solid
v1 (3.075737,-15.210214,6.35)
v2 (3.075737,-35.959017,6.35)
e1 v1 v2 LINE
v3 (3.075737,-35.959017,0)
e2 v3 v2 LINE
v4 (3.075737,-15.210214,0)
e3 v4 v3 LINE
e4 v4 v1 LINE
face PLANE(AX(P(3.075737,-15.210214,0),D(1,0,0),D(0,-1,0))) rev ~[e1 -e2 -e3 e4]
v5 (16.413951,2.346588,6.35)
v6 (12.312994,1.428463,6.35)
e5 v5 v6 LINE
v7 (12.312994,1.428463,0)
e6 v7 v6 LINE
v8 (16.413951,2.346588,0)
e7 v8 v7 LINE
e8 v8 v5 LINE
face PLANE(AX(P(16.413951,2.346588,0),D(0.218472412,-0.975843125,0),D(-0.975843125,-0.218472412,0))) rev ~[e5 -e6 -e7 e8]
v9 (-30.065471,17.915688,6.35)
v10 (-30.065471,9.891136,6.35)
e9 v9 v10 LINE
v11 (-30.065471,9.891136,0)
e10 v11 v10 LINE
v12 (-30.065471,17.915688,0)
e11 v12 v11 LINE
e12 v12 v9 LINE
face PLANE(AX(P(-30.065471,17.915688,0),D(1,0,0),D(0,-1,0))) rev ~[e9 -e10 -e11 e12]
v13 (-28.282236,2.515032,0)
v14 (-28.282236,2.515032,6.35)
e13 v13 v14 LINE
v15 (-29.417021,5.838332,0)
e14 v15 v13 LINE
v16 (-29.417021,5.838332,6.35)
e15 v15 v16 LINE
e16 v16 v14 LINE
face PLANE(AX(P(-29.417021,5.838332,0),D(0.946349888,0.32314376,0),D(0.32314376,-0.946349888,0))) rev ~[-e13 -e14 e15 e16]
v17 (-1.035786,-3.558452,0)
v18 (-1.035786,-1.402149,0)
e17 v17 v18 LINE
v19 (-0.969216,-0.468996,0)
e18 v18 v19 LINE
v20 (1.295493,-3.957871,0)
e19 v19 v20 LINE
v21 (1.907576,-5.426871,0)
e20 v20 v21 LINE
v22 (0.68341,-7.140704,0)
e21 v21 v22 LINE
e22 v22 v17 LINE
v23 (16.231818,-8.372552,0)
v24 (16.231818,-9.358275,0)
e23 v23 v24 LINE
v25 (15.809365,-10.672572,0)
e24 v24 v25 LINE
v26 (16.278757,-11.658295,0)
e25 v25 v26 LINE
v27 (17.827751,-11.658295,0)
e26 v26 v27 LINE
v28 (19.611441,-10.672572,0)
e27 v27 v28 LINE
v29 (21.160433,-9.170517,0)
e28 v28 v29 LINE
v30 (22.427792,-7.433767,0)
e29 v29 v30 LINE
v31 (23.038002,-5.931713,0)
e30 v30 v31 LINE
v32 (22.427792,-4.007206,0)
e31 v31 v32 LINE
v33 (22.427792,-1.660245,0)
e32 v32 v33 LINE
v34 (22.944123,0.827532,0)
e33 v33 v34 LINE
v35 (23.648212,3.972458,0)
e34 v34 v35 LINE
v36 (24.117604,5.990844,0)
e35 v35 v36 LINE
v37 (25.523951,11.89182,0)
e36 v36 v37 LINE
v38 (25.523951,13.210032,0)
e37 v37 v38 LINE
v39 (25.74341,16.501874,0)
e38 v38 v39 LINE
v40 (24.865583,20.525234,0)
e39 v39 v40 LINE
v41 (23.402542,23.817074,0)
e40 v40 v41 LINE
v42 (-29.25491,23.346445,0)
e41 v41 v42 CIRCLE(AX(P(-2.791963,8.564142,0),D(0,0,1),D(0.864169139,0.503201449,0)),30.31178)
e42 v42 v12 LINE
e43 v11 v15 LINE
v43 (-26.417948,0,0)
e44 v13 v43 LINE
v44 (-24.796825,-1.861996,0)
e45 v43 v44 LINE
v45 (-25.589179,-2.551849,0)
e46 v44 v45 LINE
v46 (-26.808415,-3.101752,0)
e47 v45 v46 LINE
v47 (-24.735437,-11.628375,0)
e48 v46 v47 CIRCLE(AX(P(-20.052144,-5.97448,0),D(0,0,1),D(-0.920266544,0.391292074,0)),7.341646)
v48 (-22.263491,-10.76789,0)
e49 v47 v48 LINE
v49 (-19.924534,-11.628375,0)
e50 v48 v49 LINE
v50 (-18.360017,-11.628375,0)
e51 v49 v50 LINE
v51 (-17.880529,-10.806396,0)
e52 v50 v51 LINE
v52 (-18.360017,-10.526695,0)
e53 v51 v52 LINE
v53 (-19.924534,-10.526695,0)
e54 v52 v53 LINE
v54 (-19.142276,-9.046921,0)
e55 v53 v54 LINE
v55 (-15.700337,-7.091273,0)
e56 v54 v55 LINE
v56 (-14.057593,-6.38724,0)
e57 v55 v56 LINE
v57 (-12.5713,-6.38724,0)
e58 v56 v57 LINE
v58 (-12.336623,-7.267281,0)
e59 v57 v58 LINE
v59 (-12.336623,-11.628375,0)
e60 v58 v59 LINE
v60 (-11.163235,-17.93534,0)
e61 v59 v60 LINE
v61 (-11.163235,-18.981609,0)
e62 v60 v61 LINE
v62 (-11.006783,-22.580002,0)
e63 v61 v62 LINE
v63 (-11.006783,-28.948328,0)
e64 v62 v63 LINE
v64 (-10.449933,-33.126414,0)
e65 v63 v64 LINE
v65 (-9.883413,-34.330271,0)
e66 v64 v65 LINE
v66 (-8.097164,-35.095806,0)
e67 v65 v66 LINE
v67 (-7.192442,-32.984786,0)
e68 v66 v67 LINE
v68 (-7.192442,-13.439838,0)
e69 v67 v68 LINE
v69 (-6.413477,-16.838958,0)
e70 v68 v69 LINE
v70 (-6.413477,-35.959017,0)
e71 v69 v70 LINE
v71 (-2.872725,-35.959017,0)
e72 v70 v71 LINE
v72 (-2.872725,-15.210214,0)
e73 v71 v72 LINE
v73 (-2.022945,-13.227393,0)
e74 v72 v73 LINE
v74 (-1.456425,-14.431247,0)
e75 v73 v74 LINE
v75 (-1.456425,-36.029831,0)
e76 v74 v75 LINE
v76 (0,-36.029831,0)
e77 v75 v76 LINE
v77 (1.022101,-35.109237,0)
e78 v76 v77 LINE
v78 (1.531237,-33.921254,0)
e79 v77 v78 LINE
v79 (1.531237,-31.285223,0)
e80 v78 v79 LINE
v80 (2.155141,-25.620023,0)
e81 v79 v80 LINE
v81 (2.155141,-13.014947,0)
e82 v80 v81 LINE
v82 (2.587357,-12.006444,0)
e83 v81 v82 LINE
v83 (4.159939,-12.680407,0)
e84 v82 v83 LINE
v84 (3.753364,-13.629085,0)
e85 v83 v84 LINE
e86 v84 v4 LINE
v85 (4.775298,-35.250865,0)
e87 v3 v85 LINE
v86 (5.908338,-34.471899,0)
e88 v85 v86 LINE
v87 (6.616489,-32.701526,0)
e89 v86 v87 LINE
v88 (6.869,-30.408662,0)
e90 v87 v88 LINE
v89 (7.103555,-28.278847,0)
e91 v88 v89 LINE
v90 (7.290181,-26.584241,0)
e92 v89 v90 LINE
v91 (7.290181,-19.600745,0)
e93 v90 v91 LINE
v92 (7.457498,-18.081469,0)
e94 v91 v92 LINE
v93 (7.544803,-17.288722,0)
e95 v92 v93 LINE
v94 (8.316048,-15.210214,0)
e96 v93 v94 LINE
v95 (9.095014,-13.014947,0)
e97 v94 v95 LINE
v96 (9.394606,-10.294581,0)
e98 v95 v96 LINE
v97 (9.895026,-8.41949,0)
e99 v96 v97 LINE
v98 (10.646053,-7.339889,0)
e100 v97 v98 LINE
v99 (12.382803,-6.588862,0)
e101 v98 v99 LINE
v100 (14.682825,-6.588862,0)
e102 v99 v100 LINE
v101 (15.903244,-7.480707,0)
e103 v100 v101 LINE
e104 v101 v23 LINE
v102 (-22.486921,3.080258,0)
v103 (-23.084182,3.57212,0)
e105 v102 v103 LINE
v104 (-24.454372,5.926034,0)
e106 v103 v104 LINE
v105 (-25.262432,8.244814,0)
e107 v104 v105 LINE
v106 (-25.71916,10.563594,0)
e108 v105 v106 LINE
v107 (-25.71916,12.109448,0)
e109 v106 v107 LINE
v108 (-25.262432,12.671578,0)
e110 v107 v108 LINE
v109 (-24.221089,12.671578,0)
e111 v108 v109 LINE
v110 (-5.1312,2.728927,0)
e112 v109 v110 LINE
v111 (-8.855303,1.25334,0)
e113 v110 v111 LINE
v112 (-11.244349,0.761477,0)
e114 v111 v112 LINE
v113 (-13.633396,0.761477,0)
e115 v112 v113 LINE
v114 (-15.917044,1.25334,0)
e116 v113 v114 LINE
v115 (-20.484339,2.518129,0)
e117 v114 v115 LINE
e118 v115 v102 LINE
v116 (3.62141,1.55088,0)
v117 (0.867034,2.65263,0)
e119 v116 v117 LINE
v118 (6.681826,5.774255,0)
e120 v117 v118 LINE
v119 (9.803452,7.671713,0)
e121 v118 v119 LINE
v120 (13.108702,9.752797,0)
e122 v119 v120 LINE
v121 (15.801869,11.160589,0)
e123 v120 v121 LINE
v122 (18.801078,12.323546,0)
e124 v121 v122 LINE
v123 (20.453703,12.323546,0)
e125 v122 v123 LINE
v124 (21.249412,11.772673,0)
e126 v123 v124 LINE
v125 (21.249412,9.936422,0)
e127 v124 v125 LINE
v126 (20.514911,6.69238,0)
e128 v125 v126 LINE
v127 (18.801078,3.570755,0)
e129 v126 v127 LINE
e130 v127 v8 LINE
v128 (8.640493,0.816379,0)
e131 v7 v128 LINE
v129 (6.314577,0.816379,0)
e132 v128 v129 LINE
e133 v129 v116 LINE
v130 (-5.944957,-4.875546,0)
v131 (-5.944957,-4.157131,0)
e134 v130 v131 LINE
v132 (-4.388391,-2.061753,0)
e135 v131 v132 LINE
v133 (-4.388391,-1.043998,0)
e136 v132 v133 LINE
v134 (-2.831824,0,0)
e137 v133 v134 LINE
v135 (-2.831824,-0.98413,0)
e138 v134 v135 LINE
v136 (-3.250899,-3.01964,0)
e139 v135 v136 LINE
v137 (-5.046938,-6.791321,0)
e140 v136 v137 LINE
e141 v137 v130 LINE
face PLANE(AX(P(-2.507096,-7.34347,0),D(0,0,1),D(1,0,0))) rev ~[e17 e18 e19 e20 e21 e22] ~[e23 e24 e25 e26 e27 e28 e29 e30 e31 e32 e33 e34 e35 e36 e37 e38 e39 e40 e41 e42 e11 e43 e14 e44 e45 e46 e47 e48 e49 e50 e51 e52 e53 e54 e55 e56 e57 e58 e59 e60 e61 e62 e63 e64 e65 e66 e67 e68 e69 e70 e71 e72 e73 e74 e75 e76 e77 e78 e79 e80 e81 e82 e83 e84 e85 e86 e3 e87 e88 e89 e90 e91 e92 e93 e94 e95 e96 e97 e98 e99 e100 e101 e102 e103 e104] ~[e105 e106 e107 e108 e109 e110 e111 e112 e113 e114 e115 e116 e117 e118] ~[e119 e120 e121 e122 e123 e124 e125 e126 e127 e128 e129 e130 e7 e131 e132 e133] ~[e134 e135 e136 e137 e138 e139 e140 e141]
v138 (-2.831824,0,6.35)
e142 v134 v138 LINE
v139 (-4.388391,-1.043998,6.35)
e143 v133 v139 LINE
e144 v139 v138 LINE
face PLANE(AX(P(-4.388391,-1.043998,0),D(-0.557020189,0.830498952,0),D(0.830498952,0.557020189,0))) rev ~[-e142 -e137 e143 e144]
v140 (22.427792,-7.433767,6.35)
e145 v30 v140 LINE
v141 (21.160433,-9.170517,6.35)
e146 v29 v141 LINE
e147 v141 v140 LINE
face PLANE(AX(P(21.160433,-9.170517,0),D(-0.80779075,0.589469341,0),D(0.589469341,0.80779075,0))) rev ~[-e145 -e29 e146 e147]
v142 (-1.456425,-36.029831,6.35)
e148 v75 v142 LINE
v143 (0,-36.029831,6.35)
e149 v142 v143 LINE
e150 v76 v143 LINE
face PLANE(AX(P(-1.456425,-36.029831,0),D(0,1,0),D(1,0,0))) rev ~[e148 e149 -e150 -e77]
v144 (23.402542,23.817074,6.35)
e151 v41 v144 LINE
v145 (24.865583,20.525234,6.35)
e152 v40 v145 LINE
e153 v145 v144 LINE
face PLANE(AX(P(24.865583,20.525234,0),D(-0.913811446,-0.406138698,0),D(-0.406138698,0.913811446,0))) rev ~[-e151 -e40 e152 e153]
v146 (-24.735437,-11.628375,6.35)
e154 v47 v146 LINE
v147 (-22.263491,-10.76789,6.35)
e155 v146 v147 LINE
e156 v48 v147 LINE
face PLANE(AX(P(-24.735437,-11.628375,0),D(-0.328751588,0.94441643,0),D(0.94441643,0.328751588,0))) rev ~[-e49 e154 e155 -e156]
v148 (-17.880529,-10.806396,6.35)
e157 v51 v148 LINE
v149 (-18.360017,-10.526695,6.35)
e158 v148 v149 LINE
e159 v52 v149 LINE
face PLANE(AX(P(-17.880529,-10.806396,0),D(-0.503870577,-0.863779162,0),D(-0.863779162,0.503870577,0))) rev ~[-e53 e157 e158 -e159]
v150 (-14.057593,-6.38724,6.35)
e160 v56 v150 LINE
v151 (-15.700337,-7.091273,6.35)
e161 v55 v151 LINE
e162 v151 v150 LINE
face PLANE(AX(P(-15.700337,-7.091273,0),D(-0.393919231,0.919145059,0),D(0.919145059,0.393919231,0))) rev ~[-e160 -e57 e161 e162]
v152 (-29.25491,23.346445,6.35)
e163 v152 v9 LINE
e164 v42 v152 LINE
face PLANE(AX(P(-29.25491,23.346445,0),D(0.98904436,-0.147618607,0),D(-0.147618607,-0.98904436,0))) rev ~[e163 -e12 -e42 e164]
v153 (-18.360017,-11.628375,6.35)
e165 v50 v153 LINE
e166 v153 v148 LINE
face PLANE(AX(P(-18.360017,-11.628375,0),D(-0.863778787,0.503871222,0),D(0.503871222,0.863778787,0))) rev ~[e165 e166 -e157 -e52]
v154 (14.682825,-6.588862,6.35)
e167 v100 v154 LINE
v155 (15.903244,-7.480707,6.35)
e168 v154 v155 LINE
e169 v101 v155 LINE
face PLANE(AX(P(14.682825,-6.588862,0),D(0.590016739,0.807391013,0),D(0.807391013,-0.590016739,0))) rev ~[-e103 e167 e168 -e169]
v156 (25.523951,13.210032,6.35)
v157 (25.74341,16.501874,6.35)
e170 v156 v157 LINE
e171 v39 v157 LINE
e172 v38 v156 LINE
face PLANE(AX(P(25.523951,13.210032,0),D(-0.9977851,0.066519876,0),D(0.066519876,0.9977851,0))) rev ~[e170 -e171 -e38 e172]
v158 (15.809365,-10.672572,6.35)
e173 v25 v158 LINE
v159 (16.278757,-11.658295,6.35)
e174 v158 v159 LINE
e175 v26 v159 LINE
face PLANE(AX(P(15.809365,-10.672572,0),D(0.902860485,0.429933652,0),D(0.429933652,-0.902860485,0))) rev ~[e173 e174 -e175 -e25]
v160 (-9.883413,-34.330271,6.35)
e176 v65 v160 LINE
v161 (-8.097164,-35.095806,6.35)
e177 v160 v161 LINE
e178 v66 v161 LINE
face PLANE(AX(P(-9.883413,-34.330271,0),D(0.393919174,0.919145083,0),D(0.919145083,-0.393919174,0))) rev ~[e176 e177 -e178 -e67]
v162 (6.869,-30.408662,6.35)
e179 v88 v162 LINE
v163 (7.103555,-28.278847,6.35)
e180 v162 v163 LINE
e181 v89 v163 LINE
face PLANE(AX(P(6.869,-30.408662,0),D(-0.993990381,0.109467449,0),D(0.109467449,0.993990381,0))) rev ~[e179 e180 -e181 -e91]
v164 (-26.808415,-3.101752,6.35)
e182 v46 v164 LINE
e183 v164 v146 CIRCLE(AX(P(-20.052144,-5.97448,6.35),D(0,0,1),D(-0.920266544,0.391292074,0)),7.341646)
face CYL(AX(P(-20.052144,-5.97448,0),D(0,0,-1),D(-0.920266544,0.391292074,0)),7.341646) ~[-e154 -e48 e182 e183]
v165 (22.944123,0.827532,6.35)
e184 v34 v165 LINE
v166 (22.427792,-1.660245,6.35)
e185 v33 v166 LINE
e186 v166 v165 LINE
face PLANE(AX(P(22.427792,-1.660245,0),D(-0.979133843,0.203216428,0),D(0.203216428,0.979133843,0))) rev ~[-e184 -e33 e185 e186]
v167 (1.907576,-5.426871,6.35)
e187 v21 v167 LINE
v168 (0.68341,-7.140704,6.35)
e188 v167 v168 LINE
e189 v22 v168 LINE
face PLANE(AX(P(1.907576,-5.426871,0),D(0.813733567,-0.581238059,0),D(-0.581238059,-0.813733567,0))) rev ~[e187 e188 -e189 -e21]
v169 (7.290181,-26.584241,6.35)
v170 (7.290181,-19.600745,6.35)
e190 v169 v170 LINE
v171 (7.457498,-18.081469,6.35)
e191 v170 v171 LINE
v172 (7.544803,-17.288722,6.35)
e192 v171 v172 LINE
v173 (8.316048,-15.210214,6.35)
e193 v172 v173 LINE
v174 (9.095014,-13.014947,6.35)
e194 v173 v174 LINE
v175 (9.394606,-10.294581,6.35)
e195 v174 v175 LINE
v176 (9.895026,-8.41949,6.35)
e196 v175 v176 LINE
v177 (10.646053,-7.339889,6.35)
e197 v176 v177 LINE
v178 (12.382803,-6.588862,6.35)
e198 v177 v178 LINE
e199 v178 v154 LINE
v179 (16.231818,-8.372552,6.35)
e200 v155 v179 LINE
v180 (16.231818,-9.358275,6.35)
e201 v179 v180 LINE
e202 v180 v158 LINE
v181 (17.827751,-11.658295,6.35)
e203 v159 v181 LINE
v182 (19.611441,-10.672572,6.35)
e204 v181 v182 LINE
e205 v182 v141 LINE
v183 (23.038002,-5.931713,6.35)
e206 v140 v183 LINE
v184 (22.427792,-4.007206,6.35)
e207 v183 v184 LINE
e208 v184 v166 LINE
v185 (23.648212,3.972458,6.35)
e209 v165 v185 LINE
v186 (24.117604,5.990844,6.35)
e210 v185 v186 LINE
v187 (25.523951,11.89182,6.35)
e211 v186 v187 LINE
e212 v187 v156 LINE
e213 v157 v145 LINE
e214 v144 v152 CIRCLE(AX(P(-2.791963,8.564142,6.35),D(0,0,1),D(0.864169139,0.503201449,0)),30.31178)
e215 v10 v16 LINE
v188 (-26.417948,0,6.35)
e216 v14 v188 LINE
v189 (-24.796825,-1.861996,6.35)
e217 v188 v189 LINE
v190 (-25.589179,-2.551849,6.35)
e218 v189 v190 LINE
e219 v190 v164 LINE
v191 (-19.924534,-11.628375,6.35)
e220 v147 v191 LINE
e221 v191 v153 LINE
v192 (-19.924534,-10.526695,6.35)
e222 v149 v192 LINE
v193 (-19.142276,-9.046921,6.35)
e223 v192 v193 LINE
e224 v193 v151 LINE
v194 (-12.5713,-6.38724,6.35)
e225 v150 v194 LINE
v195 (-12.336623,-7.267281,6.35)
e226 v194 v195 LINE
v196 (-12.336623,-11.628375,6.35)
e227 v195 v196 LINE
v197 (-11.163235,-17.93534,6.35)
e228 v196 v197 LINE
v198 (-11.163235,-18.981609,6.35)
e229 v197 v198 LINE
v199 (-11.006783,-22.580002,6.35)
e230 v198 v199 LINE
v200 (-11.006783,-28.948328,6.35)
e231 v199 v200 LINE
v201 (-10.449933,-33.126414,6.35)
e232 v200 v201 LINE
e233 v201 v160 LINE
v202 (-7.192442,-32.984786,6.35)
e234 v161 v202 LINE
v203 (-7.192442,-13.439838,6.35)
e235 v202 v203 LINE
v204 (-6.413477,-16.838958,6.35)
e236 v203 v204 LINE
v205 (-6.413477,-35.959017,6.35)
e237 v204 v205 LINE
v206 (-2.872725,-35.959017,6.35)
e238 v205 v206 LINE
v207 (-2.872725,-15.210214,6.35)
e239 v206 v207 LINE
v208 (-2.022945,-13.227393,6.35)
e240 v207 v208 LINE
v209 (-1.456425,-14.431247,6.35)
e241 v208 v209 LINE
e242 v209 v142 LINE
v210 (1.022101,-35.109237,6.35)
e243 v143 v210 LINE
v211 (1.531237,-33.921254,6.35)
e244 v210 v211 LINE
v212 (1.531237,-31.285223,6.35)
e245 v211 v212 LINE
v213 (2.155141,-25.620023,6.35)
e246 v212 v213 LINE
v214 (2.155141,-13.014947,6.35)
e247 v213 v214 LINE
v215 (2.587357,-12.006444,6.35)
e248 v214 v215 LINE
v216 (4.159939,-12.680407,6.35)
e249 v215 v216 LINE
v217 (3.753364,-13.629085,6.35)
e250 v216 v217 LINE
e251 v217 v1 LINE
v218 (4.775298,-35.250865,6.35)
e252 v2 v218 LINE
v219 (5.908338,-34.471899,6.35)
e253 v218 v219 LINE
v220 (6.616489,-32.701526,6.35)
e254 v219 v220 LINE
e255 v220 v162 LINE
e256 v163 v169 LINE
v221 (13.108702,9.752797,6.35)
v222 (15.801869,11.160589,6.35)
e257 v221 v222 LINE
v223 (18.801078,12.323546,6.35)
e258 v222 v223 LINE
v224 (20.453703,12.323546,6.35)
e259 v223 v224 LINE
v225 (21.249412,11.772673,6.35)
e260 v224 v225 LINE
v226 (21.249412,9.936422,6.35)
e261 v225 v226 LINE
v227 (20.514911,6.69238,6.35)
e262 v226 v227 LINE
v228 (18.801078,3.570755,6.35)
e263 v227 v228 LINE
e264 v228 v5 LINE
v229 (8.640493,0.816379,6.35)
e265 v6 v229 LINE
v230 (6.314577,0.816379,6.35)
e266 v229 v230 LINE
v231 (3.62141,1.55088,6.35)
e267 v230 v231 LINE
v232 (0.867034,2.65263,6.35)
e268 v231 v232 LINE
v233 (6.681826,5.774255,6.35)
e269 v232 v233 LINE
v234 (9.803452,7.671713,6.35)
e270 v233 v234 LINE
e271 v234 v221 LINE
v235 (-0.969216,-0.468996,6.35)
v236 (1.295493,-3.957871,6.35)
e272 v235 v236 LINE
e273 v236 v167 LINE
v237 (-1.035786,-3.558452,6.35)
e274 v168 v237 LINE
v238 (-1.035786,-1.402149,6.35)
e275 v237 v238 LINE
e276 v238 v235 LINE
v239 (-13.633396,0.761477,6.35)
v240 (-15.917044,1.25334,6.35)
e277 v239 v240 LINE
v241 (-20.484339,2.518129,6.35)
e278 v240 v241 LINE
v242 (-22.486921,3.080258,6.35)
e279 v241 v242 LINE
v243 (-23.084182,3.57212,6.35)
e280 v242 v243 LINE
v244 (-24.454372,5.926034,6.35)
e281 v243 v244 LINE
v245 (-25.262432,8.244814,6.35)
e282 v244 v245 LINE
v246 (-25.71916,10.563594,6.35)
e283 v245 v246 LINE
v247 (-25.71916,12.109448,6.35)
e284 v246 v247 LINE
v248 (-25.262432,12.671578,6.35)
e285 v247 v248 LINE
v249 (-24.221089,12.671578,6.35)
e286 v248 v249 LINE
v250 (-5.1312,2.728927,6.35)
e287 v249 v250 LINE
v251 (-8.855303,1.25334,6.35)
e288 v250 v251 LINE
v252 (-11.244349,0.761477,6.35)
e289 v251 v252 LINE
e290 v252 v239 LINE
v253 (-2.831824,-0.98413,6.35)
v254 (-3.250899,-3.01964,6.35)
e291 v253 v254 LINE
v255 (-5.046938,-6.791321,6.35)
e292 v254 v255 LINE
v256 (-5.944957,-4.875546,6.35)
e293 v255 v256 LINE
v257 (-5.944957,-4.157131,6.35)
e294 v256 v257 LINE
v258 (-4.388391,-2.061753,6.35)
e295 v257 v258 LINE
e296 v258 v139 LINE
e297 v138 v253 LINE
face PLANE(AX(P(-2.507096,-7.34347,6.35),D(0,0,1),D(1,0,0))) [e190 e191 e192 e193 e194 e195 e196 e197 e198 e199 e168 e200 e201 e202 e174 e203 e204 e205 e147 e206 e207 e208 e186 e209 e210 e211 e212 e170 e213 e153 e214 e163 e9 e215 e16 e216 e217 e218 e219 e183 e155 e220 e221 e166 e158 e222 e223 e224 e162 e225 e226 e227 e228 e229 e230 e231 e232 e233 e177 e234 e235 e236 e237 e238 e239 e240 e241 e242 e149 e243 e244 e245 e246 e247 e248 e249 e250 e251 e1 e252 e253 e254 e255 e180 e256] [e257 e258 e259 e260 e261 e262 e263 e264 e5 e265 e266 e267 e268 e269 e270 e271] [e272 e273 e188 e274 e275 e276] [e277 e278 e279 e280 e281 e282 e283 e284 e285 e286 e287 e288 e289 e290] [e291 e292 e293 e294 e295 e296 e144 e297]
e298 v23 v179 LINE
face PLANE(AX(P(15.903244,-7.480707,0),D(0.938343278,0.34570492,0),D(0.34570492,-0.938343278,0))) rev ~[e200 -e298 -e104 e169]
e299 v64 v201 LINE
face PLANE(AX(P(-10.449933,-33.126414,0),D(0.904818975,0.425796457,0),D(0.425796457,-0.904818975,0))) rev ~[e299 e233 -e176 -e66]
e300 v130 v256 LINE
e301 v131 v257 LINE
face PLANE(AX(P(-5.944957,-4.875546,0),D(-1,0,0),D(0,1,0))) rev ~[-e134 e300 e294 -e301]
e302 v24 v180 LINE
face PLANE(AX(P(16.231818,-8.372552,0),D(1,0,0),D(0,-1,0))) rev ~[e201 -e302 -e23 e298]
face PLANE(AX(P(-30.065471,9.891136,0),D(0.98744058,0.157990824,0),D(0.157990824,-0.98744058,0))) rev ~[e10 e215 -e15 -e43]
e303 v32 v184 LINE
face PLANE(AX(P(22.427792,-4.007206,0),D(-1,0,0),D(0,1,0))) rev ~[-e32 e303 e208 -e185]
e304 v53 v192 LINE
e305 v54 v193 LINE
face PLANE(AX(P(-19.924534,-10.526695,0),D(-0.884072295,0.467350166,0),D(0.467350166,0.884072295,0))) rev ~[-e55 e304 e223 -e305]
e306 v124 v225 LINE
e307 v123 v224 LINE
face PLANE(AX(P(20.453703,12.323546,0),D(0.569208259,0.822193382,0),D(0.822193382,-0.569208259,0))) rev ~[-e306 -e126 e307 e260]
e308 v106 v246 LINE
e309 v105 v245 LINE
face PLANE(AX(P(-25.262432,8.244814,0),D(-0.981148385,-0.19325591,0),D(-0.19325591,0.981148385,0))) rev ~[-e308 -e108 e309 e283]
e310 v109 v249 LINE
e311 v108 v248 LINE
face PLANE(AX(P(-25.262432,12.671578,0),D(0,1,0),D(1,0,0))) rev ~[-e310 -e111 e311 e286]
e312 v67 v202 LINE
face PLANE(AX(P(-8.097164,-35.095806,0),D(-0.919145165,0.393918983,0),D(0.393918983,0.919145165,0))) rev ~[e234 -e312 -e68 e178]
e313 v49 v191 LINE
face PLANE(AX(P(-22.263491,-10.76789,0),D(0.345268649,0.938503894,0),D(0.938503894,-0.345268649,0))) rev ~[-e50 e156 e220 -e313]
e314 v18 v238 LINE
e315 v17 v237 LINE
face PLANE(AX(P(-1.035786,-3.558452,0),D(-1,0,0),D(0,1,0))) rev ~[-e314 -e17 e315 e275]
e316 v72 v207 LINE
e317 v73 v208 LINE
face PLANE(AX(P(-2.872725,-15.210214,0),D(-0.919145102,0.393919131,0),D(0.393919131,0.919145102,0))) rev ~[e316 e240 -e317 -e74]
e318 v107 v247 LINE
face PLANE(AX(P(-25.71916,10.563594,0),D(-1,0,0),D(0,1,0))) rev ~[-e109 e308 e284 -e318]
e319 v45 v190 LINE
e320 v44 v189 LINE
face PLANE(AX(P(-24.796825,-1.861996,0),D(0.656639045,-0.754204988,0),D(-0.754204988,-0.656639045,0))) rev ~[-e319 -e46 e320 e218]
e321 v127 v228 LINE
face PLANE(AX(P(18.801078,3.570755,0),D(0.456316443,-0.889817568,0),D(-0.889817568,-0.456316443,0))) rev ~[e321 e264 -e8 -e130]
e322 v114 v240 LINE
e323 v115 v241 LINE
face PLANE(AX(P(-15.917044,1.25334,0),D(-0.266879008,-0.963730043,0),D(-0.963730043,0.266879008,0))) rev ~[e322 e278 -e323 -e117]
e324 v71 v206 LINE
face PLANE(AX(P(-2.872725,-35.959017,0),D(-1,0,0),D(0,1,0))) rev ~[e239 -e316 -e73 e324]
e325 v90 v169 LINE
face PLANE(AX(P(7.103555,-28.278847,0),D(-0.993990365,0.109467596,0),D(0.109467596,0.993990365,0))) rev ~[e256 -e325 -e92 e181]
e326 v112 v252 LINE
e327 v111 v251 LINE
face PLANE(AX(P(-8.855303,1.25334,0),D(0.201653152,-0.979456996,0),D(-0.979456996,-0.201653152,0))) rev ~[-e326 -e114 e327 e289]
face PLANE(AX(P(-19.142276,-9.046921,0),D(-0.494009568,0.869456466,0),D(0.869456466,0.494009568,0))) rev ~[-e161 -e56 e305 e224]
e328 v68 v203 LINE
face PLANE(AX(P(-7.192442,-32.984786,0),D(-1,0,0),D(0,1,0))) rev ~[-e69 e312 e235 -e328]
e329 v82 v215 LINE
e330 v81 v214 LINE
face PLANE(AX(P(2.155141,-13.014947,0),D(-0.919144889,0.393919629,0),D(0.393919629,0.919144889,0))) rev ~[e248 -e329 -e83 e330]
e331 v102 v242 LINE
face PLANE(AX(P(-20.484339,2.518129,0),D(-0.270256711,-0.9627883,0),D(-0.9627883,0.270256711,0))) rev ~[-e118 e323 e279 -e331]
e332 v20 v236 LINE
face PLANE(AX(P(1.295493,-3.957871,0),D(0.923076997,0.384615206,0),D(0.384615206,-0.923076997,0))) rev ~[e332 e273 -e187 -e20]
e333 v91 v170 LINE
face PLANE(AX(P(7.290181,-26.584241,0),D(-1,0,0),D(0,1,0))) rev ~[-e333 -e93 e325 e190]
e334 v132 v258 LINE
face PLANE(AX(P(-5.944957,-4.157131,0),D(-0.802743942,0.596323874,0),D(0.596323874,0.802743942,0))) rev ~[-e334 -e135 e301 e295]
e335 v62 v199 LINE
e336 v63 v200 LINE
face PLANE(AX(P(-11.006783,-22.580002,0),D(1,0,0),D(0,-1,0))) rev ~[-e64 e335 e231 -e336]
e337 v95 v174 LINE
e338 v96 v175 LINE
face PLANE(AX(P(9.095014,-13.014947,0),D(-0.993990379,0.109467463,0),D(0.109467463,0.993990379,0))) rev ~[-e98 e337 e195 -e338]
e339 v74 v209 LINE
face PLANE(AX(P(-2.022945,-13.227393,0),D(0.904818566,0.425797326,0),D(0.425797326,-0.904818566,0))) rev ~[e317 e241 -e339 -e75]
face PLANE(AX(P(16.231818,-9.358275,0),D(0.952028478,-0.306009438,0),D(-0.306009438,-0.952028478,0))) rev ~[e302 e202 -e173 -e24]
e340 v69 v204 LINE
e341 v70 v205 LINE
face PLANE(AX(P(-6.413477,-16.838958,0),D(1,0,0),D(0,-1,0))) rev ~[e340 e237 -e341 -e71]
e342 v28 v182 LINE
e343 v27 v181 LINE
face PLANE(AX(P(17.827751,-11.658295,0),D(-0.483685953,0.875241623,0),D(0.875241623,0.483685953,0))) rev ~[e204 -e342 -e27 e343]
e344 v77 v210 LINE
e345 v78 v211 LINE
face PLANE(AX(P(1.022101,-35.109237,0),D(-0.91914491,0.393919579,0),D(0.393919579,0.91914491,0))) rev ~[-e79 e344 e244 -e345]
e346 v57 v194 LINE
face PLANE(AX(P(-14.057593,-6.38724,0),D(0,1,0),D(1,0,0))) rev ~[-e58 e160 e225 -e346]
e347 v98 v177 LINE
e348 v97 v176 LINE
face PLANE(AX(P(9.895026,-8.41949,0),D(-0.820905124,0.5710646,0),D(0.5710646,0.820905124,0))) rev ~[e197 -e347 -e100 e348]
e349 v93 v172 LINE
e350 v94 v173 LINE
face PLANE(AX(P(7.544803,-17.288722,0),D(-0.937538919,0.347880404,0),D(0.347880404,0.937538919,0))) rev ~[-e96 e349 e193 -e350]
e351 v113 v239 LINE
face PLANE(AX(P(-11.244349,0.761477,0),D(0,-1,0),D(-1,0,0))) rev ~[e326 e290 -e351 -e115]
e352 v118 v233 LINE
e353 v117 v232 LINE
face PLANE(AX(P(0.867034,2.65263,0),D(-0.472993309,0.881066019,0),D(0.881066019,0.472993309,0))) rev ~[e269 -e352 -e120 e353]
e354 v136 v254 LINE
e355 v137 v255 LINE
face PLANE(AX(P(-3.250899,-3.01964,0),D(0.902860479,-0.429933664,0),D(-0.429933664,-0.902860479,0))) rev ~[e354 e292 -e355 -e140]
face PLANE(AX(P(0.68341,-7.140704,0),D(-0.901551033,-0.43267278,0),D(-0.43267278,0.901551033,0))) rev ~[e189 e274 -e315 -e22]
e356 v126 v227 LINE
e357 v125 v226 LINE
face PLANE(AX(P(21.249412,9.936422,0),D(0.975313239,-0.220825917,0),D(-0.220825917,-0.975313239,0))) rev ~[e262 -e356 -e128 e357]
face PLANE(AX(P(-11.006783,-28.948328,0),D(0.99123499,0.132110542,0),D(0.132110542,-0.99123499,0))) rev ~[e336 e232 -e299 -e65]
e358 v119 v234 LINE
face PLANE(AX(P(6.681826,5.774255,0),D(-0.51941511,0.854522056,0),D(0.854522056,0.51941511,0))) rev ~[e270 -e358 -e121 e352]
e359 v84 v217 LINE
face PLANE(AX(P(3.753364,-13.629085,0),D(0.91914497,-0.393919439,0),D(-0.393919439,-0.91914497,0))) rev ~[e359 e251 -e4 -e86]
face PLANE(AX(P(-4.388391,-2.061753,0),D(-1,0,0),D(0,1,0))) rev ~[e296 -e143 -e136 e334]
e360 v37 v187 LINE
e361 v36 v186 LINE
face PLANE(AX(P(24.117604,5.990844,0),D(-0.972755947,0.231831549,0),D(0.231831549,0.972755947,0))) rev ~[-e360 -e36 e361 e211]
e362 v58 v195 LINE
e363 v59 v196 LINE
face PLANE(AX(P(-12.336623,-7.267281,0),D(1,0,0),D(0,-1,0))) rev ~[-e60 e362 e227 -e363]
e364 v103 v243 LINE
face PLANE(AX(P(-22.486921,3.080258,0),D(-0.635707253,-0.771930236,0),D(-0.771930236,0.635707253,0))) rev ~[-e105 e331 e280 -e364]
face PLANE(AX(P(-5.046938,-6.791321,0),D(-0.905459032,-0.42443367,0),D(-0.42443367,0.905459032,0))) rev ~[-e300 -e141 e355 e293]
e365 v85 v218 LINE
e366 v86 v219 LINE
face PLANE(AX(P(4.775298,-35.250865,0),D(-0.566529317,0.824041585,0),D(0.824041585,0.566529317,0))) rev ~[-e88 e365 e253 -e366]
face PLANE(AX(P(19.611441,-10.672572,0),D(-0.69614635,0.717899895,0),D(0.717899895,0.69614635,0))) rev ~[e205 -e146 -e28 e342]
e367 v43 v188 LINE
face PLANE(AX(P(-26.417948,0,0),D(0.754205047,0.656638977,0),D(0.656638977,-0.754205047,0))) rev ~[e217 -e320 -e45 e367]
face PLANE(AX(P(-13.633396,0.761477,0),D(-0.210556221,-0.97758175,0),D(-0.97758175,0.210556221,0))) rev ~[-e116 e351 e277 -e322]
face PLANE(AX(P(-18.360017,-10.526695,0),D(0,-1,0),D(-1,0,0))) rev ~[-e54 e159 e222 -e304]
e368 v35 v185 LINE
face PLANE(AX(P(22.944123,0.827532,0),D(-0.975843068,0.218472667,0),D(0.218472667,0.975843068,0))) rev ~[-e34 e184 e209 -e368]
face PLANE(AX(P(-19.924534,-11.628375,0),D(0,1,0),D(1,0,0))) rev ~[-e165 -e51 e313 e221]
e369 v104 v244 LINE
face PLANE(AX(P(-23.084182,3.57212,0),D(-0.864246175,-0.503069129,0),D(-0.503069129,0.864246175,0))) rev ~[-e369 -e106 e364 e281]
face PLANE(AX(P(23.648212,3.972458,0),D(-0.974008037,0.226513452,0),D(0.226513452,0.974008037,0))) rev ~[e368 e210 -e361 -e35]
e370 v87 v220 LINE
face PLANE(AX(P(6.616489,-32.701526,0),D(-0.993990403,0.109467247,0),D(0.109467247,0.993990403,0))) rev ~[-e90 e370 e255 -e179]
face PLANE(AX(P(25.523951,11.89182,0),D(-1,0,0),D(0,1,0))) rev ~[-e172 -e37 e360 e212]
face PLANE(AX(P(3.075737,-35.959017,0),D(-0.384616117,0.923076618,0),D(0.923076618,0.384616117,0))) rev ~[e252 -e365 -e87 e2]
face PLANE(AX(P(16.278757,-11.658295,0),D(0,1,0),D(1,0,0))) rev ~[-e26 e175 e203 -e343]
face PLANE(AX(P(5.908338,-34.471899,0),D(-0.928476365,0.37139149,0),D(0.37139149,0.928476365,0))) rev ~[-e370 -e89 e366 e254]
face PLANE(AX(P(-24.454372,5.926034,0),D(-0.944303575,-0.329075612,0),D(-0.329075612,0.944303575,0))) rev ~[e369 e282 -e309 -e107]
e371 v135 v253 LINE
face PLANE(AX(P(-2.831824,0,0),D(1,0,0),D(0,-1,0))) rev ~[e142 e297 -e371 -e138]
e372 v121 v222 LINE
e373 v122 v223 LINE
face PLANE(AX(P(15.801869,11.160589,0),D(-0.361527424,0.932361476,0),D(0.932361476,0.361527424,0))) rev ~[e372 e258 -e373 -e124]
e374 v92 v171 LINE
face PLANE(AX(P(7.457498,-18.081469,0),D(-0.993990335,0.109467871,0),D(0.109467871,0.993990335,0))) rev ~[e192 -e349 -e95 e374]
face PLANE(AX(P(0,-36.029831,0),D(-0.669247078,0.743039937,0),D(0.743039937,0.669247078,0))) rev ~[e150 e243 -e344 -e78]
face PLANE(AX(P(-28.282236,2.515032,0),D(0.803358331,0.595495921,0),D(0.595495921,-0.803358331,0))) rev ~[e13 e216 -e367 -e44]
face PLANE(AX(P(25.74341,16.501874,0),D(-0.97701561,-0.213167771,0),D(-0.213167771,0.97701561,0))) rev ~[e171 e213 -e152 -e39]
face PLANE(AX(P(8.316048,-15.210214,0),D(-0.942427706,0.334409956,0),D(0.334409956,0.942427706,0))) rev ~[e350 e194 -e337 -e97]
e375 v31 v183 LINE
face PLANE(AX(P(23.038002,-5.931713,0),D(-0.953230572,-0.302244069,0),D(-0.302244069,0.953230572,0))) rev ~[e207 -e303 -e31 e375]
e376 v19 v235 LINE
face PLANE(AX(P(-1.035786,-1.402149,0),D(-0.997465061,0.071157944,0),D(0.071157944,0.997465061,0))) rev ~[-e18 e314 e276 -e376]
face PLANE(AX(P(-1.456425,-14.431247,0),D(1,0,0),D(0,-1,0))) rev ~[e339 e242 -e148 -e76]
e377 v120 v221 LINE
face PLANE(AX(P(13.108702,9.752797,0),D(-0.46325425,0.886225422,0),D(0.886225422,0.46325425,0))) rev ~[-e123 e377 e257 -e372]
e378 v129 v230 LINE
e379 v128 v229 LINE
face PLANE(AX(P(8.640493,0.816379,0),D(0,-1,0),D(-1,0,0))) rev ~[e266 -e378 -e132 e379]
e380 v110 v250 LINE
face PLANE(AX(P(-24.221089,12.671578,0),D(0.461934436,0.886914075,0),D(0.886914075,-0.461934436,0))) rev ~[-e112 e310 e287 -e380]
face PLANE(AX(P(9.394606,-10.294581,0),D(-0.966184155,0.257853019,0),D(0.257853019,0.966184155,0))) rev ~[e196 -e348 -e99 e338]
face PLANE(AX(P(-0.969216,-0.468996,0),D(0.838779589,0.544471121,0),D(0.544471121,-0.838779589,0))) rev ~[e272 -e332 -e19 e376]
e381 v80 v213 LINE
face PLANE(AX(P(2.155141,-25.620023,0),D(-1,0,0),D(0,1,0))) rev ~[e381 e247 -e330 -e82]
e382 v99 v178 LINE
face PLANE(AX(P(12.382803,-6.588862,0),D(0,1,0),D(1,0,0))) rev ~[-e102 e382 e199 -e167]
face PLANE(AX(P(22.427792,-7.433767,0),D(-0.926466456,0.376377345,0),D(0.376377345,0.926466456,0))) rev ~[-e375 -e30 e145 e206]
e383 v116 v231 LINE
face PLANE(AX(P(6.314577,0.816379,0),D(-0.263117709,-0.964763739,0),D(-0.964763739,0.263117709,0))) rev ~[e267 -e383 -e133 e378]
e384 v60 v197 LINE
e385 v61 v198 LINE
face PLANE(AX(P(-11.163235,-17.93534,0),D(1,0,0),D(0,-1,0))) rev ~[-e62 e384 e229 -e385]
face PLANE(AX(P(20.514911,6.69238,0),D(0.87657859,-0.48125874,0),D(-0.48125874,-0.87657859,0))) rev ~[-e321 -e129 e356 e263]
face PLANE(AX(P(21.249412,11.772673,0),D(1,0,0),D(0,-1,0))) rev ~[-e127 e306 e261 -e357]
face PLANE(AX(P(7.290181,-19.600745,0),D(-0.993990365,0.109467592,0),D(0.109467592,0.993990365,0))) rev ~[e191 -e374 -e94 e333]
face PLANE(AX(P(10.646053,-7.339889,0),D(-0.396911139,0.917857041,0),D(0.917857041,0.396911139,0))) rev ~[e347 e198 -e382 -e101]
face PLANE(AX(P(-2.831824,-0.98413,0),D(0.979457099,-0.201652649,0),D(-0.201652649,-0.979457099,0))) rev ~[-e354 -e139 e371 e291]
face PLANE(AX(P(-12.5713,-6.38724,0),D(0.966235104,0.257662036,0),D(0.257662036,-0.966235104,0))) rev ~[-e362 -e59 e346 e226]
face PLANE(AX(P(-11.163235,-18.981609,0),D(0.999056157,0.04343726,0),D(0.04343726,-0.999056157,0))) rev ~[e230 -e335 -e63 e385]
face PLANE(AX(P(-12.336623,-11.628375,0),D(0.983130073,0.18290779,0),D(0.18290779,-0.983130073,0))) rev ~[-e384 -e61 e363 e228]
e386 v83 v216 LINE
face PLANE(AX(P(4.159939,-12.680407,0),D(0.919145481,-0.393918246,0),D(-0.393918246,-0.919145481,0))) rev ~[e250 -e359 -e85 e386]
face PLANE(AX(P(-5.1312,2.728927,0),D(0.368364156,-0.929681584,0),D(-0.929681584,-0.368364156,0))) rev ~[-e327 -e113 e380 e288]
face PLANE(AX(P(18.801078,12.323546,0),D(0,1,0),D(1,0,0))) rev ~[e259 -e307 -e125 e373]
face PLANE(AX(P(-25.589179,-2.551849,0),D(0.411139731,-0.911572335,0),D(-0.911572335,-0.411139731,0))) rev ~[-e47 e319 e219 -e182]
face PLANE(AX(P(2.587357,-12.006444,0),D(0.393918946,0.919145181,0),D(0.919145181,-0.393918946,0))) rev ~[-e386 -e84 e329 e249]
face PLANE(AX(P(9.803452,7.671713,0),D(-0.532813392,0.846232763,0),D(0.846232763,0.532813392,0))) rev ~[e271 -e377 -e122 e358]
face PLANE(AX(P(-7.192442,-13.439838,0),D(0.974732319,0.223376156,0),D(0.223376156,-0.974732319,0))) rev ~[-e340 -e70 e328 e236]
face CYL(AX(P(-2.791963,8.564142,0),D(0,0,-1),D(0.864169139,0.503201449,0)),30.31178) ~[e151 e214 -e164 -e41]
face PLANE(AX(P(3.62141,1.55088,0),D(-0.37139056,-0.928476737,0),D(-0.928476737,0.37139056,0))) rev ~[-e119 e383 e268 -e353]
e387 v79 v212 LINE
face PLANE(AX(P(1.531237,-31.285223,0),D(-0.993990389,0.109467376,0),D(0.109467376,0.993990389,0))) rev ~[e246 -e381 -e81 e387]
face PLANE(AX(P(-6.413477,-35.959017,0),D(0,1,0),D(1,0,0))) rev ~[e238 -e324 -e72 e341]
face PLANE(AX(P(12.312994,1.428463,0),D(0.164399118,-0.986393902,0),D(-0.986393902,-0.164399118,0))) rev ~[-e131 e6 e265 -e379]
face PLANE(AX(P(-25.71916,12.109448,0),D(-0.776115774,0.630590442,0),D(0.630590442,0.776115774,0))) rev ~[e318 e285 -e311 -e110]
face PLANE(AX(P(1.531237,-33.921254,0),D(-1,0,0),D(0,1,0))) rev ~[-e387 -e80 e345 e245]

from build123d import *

# Parameters (mm, degrees)
F1_DEPTH = 6.35


with BuildPart() as f1:
    # F0 (on Top) → F1 (new body)
    with BuildSketch(Plane.XY):
        with BuildLine():
            ThreePointArc((23.402542, 23.817074), (-3.062865, 38.874712), (-29.25491, 23.346445))
            Line((-29.25491, 23.346445), (-30.065471, 17.915688))
            Line((-30.065471, 17.915688), (-30.065471, 15.159781))
            Line((-30.065471, 15.159781), (-30.065471, 12.403875))
            Line((-30.065471, 12.403875), (-30.065471, 9.891136))
            Line((-30.065471, 9.891136), (-29.417021, 5.838332))
            Line((-29.417021, 5.838332), (-28.282236, 2.515032))
            Line((-28.282236, 2.515032), (-26.417948, 0))
            Line((-26.417948, 0), (-24.796825, -1.861996))
            Line((-24.796825, -1.861996), (-25.589179, -2.551849))
            Line((-25.589179, -2.551849), (-26.808415, -3.101752))
            ThreePointArc((-26.808415, -3.101752), (-27.185988, -7.708848), (-24.735437, -11.628375))
            Line((-24.735437, -11.628375), (-22.263491, -10.76789))
            Line((-22.263491, -10.76789), (-19.924534, -11.628375))
            Line((-19.924534, -11.628375), (-18.360017, -11.628375))
            Line((-18.360017, -11.628375), (-17.880529, -10.806396))
            Line((-17.880529, -10.806396), (-18.360017, -10.526695))
            Line((-18.360017, -10.526695), (-19.924534, -10.526695))
            Line((-19.924534, -10.526695), (-19.142276, -9.046921))
            Line((-19.142276, -9.046921), (-15.700337, -7.091273))
            Line((-15.700337, -7.091273), (-14.057593, -6.38724))
            Line((-14.057593, -6.38724), (-12.5713, -6.38724))
            Line((-12.5713, -6.38724), (-12.336623, -7.267281))
            Line((-12.336623, -7.267281), (-12.336623, -11.628375))
            Line((-12.336623, -11.628375), (-11.163235, -17.93534))
            Line((-11.163235, -17.93534), (-11.163235, -18.981609))
            Line((-11.163235, -18.981609), (-11.006783, -22.580002))
            Line((-11.006783, -22.580002), (-11.006783, -24.692101))
            Line((-11.006783, -24.692101), (-11.006783, -28.948328))
            Line((-11.006783, -28.948328), (-10.449933, -33.126414))
            Line((-10.449933, -33.126414), (-9.883413, -34.330271))
            Line((-9.883413, -34.330271), (-8.097164, -35.095806))
            Line((-8.097164, -35.095806), (-7.192442, -32.984786))
            Line((-7.192442, -32.984786), (-7.192442, -30.364629))
            Line((-7.192442, -30.364629), (-7.192442, -26.682248))
            Line((-7.192442, -26.682248), (-7.192442, -22.999866))
            Line((-7.192442, -22.999866), (-7.192442, -19.388299))
            Line((-7.192442, -19.388299), (-7.192442, -13.439838))
            Line((-7.192442, -13.439838), (-6.413477, -16.838958))
            Line((-6.413477, -16.838958), (-6.413477, -20.521341))
            Line((-6.413477, -20.521341), (-6.413477, -24.557797))
            Line((-6.413477, -24.557797), (-6.413477, -28.806698))
            Line((-6.413477, -28.806698), (-6.413477, -34.542717))
            Line((-6.413477, -34.542717), (-6.413477, -35.959017))
            Line((-6.413477, -35.959017), (-2.872725, -35.959017))
            Line((-2.872725, -35.959017), (-2.872725, -15.210214))
            Line((-2.872725, -15.210214), (-2.022945, -13.227393))
            Line((-2.022945, -13.227393), (-1.456425, -14.431247))
            Line((-1.456425, -14.431247), (-1.456425, -16.484883))
            Line((-1.456425, -16.484883), (-1.456425, -21.158677))
            Line((-1.456425, -21.158677), (-1.456425, -36.029831))
            Line((-1.456425, -36.029831), (0, -36.029831))
            Line((0, -36.029831), (1.022101, -35.109237))
            Line((1.022101, -35.109237), (1.531237, -33.921254))
            Line((1.531237, -33.921254), (1.531237, -31.285223))
            Line((1.531237, -31.285223), (2.155141, -25.620023))
            Line((2.155141, -25.620023), (2.155141, -20.662971))
            Line((2.155141, -20.662971), (2.155141, -16.484883))
            Line((2.155141, -16.484883), (2.155141, -13.014947))
            Line((2.155141, -13.014947), (2.587357, -12.006444))
            Line((2.587357, -12.006444), (4.159939, -12.680407))
            Line((4.159939, -12.680407), (3.753364, -13.629085))
            Line((3.753364, -13.629085), (3.075737, -15.210214))
            Line((3.075737, -15.210214), (3.075737, -17.26385))
            Line((3.075737, -17.26385), (3.075737, -35.959017))
            Line((3.075737, -35.959017), (4.775298, -35.250865))
            Line((4.775298, -35.250865), (5.908338, -34.471899))
            Line((5.908338, -34.471899), (6.616489, -32.701526))
            Line((6.616489, -32.701526), (6.869, -30.408662))
            Line((6.869, -30.408662), (7.103555, -28.278847))
            Line((7.103555, -28.278847), (7.290181, -26.584241))
            Line((7.290181, -26.584241), (7.290181, -24.203721))
            Line((7.290181, -24.203721), (7.290181, -21.866826))
            Line((7.290181, -21.866826), (7.290181, -19.600745))
            Line((7.290181, -19.600745), (7.457498, -18.081469))
            Line((7.457498, -18.081469), (7.544803, -17.288722))
            Line((7.544803, -17.288722), (8.316048, -15.210214))
            Line((8.316048, -15.210214), (9.095014, -13.014947))
            Line((9.095014, -13.014947), (9.394606, -10.294581))
            Line((9.394606, -10.294581), (9.895026, -8.41949))
            Line((9.895026, -8.41949), (10.646053, -7.339889))
            Line((10.646053, -7.339889), (12.382803, -6.588862))
            Line((12.382803, -6.588862), (14.682825, -6.588862))
            Line((14.682825, -6.588862), (15.903244, -7.480707))
            Line((15.903244, -7.480707), (16.231818, -8.372552))
            Line((16.231818, -8.372552), (16.231818, -9.358275))
            Line((16.231818, -9.358275), (15.809365, -10.672572))
            Line((15.809365, -10.672572), (16.278757, -11.658295))
            Line((16.278757, -11.658295), (17.076723, -11.658295))
            Line((17.076723, -11.658295), (17.827751, -11.658295))
            Line((17.827751, -11.658295), (19.611441, -10.672572))
            Line((19.611441, -10.672572), (21.160433, -9.170517))
            Line((21.160433, -9.170517), (22.427792, -7.433767))
            Line((22.427792, -7.433767), (23.038002, -5.931713))
            Line((23.038002, -5.931713), (22.427792, -4.007206))
            Line((22.427792, -4.007206), (22.427792, -1.660245))
            Line((22.427792, -1.660245), (22.944123, 0.827532))
            Line((22.944123, 0.827532), (23.648212, 3.972458))
            Line((23.648212, 3.972458), (24.117604, 5.990844))
            Line((24.117604, 5.990844), (25.523951, 11.89182))
            Line((25.523951, 11.89182), (25.523951, 13.210032))
            Line((25.523951, 13.210032), (25.74341, 16.501874))
            Line((25.74341, 16.501874), (24.865583, 20.525234))
            Line((24.865583, 20.525234), (23.402542, 23.817074))
        make_face()
        Polygon((-3.250899, -3.01964), (-5.046938, -6.791321), (-5.944957, -4.875546), (-5.944957, -4.157131), (-4.388391, -2.061753), (-4.388391, -1.043998), (-2.831824, 0), (-2.831824, -0.98413), align=None, mode=Mode.SUBTRACT)
        Polygon((-1.035786, -1.402149), (-0.969216, -0.468996), (1.295493, -3.957871), (1.907576, -5.426871), (0.68341, -7.140704), (-1.035786, -3.558452), align=None, mode=Mode.SUBTRACT)
        Polygon((-24.221089, 12.671578), (-5.1312, 2.728927), (-8.855303, 1.25334), (-11.244349, 0.761477), (-13.633396, 0.761477), (-15.917044, 1.25334), (-20.484339, 2.518129), (-22.486921, 3.080258), (-23.084182, 3.57212), (-24.454372, 5.926034), (-25.262432, 8.244814), (-25.71916, 10.563594), (-25.71916, 12.109448), (-25.262432, 12.671578), align=None, mode=Mode.SUBTRACT)
        Polygon((3.62141, 1.55088), (0.867034, 2.65263), (6.681826, 5.774255), (9.803452, 7.671713), (13.108702, 9.752797), (15.801869, 11.160589), (18.801078, 12.323546), (20.453703, 12.323546), (21.249412, 11.772673), (21.249412, 9.936422), (20.514911, 6.69238), (18.801078, 3.570755), (16.413951, 2.346588), (12.312994, 1.428463), (8.640493, 0.816379), (6.314577, 0.816379), align=None, mode=Mode.SUBTRACT)
    extrude(amount=F1_DEPTH)


solid = f1.part
